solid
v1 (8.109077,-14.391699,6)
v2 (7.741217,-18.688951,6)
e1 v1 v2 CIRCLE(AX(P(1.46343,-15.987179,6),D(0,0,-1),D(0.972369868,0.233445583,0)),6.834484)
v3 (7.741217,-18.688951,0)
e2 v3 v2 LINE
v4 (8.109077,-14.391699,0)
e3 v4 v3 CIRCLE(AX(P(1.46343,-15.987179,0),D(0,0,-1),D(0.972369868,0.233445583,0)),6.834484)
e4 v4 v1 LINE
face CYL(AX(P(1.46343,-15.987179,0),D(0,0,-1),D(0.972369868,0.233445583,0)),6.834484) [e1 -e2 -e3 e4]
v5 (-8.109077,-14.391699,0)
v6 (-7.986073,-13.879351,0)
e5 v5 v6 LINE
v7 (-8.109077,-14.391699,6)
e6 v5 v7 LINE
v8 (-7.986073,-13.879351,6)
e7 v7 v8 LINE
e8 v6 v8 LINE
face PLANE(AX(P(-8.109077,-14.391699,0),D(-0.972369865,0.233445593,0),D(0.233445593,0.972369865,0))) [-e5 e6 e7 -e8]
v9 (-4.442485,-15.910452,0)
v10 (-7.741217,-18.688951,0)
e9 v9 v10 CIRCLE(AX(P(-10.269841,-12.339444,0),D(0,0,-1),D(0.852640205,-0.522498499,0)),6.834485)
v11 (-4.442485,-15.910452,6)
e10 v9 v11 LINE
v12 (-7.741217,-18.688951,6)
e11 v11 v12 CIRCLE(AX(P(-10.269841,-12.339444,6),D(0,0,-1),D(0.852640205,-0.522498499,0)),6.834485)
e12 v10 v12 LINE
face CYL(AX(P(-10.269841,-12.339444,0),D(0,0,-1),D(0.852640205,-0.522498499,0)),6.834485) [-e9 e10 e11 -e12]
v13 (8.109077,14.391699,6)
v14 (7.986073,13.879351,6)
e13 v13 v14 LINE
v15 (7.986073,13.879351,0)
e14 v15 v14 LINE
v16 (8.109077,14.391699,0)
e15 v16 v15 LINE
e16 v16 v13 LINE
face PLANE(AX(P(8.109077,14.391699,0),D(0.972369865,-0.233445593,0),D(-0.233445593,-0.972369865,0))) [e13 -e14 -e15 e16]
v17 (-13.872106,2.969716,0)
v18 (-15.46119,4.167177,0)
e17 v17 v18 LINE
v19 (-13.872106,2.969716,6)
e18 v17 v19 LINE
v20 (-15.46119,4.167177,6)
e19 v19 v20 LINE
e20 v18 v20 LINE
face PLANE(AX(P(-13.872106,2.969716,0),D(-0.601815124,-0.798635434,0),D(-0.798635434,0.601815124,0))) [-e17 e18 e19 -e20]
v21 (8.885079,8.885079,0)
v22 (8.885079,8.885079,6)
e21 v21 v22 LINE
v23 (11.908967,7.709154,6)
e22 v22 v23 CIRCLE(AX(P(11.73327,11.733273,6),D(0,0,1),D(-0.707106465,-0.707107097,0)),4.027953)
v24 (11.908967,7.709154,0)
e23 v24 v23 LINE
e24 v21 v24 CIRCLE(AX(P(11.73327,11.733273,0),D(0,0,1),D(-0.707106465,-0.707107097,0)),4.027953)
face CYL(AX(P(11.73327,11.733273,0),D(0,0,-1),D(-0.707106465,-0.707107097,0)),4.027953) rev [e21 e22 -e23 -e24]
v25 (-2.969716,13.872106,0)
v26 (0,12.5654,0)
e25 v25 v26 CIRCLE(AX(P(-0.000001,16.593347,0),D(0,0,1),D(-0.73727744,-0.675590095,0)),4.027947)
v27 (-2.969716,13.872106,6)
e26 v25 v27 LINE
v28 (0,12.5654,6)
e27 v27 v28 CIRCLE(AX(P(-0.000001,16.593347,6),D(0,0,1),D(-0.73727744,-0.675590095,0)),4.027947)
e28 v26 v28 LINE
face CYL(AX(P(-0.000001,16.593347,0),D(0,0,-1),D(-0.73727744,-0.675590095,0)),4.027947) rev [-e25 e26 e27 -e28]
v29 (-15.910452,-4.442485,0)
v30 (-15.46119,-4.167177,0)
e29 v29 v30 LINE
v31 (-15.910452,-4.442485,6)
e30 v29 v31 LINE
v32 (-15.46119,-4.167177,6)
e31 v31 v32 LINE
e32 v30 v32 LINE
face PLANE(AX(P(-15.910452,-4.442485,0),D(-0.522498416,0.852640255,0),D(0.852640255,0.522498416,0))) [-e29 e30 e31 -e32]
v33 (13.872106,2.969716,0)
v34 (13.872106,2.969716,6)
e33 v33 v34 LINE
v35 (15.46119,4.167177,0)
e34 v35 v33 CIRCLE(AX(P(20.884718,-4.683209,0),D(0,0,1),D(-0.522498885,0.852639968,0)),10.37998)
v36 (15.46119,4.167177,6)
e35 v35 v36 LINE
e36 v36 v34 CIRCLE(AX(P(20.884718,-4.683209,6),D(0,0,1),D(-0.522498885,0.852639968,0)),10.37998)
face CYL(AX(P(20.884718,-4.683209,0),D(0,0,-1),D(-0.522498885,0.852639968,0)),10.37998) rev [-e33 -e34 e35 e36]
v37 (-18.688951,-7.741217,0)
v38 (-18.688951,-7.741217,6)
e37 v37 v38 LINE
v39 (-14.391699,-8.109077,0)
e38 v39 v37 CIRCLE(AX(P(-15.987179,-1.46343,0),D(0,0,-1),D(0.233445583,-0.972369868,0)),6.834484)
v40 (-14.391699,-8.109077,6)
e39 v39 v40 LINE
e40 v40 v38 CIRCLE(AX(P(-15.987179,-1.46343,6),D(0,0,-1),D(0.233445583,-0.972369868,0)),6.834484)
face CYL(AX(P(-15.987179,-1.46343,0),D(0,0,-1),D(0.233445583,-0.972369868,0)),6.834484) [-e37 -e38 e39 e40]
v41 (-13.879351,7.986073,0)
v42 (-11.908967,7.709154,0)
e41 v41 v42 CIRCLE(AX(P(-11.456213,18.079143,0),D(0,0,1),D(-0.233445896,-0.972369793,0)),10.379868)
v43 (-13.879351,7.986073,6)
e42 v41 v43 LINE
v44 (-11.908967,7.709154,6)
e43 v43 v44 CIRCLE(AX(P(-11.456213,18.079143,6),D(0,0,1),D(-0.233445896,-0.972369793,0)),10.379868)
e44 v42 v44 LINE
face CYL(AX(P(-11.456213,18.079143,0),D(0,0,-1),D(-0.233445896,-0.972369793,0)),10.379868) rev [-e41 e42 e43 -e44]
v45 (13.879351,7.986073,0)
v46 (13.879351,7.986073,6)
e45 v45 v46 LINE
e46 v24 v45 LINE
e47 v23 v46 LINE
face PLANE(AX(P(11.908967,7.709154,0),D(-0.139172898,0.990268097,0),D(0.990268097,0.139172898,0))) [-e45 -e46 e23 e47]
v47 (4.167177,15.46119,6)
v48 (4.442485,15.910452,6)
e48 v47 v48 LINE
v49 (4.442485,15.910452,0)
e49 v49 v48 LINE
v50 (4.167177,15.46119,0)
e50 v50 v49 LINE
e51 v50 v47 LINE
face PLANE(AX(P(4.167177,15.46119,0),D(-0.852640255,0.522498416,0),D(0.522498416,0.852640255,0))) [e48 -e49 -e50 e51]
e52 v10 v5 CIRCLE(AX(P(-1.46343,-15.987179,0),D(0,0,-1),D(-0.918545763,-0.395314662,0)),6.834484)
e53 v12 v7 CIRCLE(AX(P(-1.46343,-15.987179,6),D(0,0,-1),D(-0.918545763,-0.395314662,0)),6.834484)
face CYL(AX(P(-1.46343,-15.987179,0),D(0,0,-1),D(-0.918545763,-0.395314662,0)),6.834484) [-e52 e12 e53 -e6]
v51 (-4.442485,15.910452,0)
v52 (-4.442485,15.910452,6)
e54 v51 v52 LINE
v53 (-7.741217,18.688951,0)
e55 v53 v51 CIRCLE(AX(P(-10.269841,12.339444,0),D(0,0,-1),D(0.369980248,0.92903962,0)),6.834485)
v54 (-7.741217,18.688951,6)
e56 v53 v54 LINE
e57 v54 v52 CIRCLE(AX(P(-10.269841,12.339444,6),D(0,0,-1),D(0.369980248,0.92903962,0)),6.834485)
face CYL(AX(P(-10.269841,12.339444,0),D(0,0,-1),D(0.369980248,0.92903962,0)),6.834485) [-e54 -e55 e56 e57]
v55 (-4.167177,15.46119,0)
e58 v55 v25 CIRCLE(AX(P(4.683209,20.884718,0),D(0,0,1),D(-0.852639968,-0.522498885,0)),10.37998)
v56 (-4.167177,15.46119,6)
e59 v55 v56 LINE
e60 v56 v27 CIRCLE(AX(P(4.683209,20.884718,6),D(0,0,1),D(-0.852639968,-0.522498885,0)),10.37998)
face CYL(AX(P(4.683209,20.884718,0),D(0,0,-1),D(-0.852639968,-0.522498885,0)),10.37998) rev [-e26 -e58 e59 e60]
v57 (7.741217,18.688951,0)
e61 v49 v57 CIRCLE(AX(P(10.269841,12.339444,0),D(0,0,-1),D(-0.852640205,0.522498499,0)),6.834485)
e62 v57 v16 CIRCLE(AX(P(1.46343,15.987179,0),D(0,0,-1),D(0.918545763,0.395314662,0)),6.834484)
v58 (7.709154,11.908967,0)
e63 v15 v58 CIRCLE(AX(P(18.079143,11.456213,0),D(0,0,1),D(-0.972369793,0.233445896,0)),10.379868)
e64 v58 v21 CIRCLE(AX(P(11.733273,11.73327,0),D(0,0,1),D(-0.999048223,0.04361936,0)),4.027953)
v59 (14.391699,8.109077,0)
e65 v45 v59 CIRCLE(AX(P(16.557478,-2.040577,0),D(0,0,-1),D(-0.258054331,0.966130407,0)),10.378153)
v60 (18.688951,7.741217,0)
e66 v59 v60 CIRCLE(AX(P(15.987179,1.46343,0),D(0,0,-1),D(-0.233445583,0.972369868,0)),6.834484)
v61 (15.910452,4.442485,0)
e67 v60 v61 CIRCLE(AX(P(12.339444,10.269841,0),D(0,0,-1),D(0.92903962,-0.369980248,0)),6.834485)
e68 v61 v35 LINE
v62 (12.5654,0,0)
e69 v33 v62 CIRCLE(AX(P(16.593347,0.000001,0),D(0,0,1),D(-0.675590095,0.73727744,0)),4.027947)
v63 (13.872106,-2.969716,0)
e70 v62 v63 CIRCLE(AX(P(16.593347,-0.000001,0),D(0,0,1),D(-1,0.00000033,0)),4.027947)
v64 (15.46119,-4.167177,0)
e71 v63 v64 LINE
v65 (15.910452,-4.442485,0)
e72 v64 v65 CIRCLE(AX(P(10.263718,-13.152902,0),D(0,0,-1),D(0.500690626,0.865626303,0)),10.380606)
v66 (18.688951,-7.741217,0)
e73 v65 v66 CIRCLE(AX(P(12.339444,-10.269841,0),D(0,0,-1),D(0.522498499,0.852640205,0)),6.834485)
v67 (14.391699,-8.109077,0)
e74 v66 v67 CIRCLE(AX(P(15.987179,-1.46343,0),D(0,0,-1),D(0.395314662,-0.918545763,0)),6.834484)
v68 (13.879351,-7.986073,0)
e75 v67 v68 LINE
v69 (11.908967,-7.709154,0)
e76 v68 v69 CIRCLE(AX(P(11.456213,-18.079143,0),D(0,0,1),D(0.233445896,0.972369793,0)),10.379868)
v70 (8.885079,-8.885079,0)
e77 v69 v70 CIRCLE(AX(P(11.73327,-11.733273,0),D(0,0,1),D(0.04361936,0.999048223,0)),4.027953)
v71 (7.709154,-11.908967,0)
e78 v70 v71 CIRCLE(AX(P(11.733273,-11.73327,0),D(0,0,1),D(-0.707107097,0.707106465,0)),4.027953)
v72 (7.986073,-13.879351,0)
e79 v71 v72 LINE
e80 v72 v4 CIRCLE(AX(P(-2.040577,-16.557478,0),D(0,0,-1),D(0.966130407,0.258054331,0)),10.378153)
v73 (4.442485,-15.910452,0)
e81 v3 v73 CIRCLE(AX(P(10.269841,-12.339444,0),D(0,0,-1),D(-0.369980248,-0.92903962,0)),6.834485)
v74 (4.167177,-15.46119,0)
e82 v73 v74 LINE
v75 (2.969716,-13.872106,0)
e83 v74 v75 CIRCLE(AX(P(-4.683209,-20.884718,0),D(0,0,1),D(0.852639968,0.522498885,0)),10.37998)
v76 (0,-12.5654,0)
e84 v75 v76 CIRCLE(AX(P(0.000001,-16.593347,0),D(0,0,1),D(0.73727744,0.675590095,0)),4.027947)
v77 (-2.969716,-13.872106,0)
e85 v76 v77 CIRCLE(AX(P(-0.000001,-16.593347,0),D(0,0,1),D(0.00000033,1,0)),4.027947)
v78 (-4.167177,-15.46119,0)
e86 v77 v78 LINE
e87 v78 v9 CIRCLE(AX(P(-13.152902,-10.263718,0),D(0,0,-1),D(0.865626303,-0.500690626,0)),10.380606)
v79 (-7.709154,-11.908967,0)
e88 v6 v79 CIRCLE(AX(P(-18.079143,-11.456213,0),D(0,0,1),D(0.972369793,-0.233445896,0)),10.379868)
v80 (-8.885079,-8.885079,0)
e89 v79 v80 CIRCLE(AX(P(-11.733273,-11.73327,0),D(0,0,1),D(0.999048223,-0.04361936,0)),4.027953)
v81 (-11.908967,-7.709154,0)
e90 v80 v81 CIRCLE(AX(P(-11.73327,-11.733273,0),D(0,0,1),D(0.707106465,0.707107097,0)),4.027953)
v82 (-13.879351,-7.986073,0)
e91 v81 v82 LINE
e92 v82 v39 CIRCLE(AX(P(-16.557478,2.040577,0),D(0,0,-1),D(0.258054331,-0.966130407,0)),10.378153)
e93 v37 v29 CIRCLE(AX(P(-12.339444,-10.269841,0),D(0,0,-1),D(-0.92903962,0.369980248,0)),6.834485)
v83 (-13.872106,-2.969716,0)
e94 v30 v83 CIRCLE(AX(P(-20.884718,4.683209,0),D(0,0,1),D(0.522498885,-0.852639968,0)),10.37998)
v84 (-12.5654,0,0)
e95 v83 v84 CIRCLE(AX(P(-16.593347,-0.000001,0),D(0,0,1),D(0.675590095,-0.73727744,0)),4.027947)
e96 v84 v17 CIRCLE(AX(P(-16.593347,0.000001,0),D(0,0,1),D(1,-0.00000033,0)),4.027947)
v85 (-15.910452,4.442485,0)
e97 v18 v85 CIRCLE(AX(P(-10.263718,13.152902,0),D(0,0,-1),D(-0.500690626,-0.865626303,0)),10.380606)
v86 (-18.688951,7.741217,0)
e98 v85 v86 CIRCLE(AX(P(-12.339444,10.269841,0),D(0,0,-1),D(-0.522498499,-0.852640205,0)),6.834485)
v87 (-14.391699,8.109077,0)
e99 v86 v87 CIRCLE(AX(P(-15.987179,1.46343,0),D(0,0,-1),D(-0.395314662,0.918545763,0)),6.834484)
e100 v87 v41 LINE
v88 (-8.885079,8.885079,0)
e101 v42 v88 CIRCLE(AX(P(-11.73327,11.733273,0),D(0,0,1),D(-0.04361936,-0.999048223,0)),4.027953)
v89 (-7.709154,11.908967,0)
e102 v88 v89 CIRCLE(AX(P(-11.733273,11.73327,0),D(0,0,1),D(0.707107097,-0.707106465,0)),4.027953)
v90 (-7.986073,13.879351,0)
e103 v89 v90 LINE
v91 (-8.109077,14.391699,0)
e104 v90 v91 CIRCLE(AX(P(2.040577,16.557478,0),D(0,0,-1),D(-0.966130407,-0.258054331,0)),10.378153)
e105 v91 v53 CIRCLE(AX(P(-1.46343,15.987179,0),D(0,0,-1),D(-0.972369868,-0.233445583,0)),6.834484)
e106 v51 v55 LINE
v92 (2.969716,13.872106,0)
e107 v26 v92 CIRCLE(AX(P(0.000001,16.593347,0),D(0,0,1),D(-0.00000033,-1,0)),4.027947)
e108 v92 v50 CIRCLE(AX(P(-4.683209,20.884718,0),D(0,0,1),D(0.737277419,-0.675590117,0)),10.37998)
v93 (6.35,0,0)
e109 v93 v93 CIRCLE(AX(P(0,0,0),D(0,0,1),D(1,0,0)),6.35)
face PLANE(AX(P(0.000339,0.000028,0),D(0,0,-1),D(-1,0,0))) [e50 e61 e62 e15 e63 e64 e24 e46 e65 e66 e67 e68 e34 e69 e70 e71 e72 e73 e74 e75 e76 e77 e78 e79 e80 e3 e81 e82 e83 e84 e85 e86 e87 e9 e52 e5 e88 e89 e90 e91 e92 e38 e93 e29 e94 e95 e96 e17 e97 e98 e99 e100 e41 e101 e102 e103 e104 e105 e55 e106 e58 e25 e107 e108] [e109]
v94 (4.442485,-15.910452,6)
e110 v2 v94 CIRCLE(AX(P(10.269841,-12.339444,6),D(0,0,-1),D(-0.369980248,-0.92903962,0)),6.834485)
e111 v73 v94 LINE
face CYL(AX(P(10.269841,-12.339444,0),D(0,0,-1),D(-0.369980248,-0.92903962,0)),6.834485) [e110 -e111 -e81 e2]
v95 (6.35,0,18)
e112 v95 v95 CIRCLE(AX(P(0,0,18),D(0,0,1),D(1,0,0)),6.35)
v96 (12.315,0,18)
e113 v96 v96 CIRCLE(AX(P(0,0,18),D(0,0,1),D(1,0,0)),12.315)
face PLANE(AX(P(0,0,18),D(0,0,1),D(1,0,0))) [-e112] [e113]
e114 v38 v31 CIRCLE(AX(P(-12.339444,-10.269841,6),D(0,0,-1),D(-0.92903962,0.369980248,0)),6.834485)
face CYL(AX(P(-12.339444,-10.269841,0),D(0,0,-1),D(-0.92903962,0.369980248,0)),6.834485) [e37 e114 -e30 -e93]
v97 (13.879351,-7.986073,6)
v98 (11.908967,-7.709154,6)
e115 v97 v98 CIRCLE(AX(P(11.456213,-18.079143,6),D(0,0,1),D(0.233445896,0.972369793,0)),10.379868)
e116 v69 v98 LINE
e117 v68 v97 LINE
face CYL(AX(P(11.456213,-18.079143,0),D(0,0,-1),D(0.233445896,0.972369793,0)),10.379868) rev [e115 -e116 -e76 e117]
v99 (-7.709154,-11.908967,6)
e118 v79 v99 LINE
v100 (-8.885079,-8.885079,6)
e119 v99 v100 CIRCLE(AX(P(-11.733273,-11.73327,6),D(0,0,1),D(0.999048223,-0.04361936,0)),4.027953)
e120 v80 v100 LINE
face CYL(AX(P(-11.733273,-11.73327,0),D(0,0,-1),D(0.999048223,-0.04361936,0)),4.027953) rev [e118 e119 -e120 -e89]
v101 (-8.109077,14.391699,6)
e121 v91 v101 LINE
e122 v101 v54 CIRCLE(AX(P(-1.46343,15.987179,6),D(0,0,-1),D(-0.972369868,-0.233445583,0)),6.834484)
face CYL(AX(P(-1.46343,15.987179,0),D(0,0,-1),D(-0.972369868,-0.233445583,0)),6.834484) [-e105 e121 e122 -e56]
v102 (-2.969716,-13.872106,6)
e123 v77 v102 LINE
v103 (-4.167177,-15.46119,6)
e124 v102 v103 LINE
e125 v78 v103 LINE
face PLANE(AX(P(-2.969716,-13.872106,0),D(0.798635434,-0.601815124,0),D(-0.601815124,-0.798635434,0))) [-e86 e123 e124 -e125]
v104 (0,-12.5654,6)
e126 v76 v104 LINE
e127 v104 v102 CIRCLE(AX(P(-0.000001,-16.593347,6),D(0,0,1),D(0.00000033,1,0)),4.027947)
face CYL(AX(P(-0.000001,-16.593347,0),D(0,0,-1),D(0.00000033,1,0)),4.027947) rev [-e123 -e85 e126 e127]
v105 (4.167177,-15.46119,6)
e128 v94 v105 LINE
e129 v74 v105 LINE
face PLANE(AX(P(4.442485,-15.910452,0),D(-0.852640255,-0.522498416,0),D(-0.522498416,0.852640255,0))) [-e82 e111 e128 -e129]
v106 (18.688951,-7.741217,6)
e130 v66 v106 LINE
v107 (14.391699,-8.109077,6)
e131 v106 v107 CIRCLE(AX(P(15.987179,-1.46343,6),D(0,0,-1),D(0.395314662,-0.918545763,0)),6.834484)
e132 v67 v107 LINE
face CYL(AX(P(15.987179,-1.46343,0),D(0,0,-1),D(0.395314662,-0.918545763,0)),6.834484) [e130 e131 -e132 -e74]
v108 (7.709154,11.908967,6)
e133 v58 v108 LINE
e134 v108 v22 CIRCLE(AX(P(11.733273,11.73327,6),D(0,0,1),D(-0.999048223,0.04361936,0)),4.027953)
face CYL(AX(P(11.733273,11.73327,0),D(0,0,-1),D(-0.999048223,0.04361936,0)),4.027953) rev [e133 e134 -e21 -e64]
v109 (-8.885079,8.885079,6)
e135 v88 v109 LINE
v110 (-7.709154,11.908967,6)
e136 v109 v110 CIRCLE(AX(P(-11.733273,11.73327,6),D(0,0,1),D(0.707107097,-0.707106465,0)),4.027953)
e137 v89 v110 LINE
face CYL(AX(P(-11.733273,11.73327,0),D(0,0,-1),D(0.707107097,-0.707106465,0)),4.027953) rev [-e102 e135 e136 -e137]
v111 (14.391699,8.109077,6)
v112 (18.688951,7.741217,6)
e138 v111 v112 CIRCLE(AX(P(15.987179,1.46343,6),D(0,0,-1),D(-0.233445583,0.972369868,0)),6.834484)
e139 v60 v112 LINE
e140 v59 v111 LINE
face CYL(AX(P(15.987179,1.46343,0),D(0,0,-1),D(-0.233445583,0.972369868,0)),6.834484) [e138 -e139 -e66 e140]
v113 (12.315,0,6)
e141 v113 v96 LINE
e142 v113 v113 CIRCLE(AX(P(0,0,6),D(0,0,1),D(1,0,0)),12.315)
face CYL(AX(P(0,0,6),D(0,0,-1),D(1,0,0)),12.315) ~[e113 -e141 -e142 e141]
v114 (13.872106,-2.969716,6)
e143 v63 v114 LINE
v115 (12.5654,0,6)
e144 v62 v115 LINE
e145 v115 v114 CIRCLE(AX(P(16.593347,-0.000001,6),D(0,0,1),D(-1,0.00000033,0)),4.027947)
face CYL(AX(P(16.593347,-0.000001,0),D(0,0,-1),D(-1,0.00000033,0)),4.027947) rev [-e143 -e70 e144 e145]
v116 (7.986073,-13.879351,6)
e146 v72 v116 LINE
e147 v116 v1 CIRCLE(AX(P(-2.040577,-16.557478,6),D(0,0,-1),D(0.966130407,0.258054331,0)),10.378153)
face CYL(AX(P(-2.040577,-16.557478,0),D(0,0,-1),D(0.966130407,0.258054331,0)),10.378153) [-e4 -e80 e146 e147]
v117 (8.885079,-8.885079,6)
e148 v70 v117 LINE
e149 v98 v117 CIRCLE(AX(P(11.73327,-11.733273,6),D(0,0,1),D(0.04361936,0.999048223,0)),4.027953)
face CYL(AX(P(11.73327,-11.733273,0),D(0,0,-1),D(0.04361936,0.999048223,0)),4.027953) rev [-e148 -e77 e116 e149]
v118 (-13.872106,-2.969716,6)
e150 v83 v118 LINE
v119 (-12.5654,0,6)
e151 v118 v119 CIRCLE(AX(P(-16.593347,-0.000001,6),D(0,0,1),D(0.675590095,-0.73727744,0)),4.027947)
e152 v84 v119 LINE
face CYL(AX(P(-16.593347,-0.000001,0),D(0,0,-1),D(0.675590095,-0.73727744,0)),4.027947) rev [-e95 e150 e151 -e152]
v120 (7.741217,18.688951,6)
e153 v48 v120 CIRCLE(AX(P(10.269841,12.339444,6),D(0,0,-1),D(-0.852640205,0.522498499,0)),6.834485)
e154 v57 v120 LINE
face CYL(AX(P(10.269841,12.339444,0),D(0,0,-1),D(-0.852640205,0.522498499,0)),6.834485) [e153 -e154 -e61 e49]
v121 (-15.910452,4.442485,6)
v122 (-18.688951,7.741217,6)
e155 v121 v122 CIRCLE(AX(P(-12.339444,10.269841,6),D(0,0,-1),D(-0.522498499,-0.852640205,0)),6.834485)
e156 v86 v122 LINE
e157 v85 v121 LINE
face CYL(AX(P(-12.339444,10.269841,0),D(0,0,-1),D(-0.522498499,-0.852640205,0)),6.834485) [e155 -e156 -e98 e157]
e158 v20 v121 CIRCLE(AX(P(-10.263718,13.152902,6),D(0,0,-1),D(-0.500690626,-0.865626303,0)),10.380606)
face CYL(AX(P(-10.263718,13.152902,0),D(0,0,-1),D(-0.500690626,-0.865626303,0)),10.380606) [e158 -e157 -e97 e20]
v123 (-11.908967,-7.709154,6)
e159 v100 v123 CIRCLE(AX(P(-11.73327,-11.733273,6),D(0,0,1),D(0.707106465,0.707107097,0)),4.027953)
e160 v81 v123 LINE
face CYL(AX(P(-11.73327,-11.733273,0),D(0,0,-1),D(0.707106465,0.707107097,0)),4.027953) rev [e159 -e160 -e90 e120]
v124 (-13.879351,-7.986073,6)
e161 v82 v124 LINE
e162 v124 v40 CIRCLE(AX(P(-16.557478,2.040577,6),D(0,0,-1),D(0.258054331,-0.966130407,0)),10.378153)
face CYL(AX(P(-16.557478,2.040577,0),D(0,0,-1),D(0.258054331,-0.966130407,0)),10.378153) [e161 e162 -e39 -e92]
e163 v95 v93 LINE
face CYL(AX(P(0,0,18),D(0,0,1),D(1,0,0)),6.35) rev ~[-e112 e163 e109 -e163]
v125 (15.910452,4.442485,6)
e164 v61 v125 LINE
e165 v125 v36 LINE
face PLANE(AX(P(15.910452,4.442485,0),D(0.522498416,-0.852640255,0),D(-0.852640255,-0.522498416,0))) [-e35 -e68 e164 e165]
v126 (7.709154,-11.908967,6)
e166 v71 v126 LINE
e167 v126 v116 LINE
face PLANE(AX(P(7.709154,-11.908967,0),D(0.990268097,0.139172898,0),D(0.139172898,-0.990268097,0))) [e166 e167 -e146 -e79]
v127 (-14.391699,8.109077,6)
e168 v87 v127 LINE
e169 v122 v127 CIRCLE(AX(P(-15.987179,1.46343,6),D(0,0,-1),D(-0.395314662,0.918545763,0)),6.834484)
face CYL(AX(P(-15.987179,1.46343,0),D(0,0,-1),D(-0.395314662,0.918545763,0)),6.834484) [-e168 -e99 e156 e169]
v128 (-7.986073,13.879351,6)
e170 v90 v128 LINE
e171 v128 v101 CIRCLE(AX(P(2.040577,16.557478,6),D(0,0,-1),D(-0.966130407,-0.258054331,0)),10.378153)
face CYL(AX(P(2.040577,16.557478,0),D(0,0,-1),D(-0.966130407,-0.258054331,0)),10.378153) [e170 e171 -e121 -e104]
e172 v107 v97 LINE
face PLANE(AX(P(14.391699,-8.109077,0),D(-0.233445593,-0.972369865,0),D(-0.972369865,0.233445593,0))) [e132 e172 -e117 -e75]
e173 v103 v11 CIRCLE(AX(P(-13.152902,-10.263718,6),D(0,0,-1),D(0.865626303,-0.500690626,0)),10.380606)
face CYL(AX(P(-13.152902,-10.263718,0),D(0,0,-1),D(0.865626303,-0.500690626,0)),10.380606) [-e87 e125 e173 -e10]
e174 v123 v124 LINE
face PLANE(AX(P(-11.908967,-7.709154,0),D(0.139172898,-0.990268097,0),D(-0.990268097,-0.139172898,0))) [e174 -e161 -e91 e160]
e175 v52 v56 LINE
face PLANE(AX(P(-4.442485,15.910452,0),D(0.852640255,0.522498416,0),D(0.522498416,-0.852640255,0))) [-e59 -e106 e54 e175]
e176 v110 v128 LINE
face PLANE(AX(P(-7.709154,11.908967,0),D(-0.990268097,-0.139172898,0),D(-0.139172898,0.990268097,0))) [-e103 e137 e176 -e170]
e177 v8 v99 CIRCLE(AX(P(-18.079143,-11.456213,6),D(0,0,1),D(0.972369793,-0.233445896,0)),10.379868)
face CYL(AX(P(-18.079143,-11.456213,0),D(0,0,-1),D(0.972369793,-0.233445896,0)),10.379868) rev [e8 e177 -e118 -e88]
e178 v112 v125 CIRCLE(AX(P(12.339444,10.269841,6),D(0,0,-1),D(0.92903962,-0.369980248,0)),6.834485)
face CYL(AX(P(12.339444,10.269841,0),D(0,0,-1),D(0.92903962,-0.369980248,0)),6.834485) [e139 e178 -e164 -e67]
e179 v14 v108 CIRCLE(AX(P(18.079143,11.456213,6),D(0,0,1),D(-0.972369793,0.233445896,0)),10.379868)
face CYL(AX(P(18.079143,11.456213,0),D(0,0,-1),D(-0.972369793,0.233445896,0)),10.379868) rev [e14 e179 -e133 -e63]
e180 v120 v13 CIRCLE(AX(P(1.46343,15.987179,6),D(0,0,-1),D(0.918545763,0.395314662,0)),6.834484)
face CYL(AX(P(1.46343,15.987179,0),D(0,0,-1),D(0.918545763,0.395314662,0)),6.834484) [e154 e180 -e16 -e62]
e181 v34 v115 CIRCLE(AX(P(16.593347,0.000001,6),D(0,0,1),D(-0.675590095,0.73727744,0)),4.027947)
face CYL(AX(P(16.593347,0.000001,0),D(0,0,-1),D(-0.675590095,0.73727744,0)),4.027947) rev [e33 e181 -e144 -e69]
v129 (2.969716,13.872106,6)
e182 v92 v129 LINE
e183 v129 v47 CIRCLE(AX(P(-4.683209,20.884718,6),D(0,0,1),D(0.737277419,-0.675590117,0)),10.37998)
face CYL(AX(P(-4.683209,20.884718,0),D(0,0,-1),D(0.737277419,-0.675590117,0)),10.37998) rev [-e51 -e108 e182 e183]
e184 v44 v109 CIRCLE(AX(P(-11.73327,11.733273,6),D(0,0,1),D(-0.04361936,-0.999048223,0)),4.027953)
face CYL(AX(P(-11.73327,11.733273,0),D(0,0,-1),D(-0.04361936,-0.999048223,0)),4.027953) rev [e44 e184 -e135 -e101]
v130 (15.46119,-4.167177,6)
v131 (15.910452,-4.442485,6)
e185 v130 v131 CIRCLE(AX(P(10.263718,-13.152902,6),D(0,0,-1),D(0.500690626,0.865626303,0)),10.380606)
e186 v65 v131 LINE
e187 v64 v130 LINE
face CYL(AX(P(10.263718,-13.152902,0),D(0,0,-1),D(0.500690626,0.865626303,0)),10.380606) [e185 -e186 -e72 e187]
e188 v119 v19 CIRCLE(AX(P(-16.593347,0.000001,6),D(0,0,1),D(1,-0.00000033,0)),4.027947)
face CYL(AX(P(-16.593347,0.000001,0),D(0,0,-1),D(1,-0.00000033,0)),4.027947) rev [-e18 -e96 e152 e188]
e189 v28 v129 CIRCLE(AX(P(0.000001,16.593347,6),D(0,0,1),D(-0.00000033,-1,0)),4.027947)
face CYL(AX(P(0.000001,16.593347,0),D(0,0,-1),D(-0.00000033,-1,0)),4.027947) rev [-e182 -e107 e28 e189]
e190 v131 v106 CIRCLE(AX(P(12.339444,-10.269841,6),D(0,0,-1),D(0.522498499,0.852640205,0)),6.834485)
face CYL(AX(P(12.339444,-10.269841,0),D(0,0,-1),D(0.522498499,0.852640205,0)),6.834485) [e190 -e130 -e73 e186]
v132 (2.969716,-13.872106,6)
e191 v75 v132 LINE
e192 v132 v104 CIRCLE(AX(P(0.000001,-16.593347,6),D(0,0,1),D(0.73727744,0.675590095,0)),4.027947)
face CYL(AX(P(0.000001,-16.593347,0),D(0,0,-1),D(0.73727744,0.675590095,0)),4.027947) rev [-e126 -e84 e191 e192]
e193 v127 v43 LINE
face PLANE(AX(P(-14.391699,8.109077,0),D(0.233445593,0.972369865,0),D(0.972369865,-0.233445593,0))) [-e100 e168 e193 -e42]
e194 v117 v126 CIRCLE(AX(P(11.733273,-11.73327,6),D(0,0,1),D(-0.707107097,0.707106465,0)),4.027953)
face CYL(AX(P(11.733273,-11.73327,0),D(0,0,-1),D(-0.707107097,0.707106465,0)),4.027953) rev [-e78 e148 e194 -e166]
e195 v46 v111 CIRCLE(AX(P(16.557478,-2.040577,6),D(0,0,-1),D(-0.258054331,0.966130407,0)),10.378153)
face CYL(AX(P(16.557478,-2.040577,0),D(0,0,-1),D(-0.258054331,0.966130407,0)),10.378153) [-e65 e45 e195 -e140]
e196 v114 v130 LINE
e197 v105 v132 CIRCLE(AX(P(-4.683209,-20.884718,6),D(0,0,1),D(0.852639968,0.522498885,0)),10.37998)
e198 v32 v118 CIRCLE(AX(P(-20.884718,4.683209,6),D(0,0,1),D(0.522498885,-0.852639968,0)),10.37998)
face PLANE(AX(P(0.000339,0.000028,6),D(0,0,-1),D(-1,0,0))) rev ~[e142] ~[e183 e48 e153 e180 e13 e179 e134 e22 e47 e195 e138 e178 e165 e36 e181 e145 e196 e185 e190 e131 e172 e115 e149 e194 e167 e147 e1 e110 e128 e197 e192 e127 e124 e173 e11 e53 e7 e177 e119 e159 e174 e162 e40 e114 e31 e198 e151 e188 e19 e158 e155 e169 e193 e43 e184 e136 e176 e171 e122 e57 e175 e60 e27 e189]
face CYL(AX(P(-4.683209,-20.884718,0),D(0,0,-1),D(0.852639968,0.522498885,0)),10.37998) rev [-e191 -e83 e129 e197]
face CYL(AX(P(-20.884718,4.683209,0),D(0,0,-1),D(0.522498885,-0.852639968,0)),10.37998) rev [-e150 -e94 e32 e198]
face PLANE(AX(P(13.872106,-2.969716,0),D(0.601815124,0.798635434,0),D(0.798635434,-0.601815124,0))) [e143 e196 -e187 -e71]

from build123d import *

# Parameters (mm, degrees)
PAD_DEPTH    = 6
SKETCH_R     = 12.315
PAD001_DEPTH = 12
SKETCH001_R  = 6.35
POCKET_DEPTH = 18


with BuildPart() as part:
    # Sprocket → Pad (new body)
    with BuildSketch(Plane.XY):
        with BuildLine():
            ThreePointArc((-7.741217, 18.688951), (-5.866931, 17.566734), (-4.442485, 15.910452))
            Line((-4.442485, 15.910452), (-4.167177, 15.46119))
            ThreePointArc((-4.167177, 15.46119), (-3.606611, 14.637889), (-2.969716, 13.872106))
            ThreePointArc((-2.969716, 13.872106), (-1.622244, 12.906521), (0, 12.5654))
            ThreePointArc((0, 12.5654), (1.622244, 12.906521), (2.969716, 13.872106))
            ThreePointArc((2.969716, 13.872106), (3.606611, 14.637889), (4.167177, 15.46119))
            Line((4.167177, 15.46119), (4.442485, 15.910452))
            ThreePointArc((4.442485, 15.910452), (5.866931, 17.566734), (7.741217, 18.688951))
            ThreePointArc((7.741217, 18.688951), (8.27301, 16.570104), (8.109077, 14.391699))
            Line((8.109077, 14.391699), (7.986073, 13.879351))
            ThreePointArc((7.986073, 13.879351), (7.800291, 12.90081), (7.709154, 11.908967))
            ThreePointArc((7.709154, 11.908967), (7.979189, 10.273388), (8.885079, 8.885079))
            ThreePointArc((8.885079, 8.885079), (10.273388, 7.979189), (11.908967, 7.709154))
            Line((11.908967, 7.709154), (13.879351, 7.986073))
            ThreePointArc((13.879351, 7.986073), (14.134744, 8.050827), (14.391699, 8.109077))
            ThreePointArc((14.391699, 8.109077), (16.570104, 8.27301), (18.688951, 7.741217))
            ThreePointArc((18.688951, 7.741217), (17.566734, 5.866931), (15.910452, 4.442485))
            Line((15.910452, 4.442485), (15.46119, 4.167177))
            ThreePointArc((15.46119, 4.167177), (14.637889, 3.606611), (13.872106, 2.969716))
            ThreePointArc((13.872106, 2.969716), (12.906521, 1.622244), (12.5654, 0))
            ThreePointArc((12.5654, 0), (12.906521, -1.622244), (13.872106, -2.969716))
            Line((13.872106, -2.969716), (15.46119, -4.167177))
            ThreePointArc((15.46119, -4.167177), (15.687568, -4.30198), (15.910452, -4.442485))
            ThreePointArc((15.910452, -4.442485), (17.566734, -5.866931), (18.688951, -7.741217))
            ThreePointArc((18.688951, -7.741217), (16.570104, -8.27301), (14.391699, -8.109077))
            Line((14.391699, -8.109077), (13.879351, -7.986073))
            ThreePointArc((13.879351, -7.986073), (12.90081, -7.800291), (11.908967, -7.709154))
            ThreePointArc((11.908967, -7.709154), (10.273388, -7.979189), (8.885079, -8.885079))
            ThreePointArc((8.885079, -8.885079), (7.979189, -10.273388), (7.709154, -11.908967))
            Line((7.709154, -11.908967), (7.986073, -13.879351))
            ThreePointArc((7.986073, -13.879351), (8.050827, -14.134744), (8.109077, -14.391699))
            ThreePointArc((8.109077, -14.391699), (8.27301, -16.570104), (7.741217, -18.688951))
            ThreePointArc((7.741217, -18.688951), (5.866931, -17.566734), (4.442485, -15.910452))
            Line((4.442485, -15.910452), (4.167177, -15.46119))
            ThreePointArc((4.167177, -15.46119), (3.606611, -14.637889), (2.969716, -13.872106))
            ThreePointArc((2.969716, -13.872106), (1.622244, -12.906521), (0, -12.5654))
            ThreePointArc((0, -12.5654), (-1.622244, -12.906521), (-2.969716, -13.872106))
            Line((-2.969716, -13.872106), (-4.167177, -15.46119))
            ThreePointArc((-4.167177, -15.46119), (-4.30198, -15.687568), (-4.442485, -15.910452))
            ThreePointArc((-4.442485, -15.910452), (-5.866931, -17.566734), (-7.741217, -18.688951))
            ThreePointArc((-7.741217, -18.688951), (-8.27301, -16.570104), (-8.109077, -14.391699))
            Line((-8.109077, -14.391699), (-7.986073, -13.879351))
            ThreePointArc((-7.986073, -13.879351), (-7.800291, -12.90081), (-7.709154, -11.908967))
            ThreePointArc((-7.709154, -11.908967), (-7.979189, -10.273388), (-8.885079, -8.885079))
            ThreePointArc((-8.885079, -8.885079), (-10.273388, -7.979189), (-11.908967, -7.709154))
            Line((-11.908967, -7.709154), (-13.879351, -7.986073))
            ThreePointArc((-13.879351, -7.986073), (-14.134744, -8.050827), (-14.391699, -8.109077))
            ThreePointArc((-14.391699, -8.109077), (-16.570104, -8.27301), (-18.688951, -7.741217))
            ThreePointArc((-18.688951, -7.741217), (-17.566734, -5.866931), (-15.910452, -4.442485))
            Line((-15.910452, -4.442485), (-15.46119, -4.167177))
            ThreePointArc((-15.46119, -4.167177), (-14.637889, -3.606611), (-13.872106, -2.969716))
            ThreePointArc((-13.872106, -2.969716), (-12.906521, -1.622244), (-12.5654, 0))
            ThreePointArc((-12.5654, 0), (-12.906521, 1.622244), (-13.872106, 2.969716))
            Line((-13.872106, 2.969716), (-15.46119, 4.167177))
            ThreePointArc((-15.46119, 4.167177), (-15.687568, 4.30198), (-15.910452, 4.442485))
            ThreePointArc((-15.910452, 4.442485), (-17.566734, 5.866931), (-18.688951, 7.741217))
            ThreePointArc((-18.688951, 7.741217), (-16.570104, 8.27301), (-14.391699, 8.109077))
            Line((-14.391699, 8.109077), (-13.879351, 7.986073))
            ThreePointArc((-13.879351, 7.986073), (-12.90081, 7.800291), (-11.908967, 7.709154))
            ThreePointArc((-11.908967, 7.709154), (-10.273388, 7.979189), (-8.885079, 8.885079))
            ThreePointArc((-8.885079, 8.885079), (-7.979189, 10.273388), (-7.709154, 11.908967))
            Line((-7.709154, 11.908967), (-7.986073, 13.879351))
            ThreePointArc((-7.986073, 13.879351), (-8.050827, 14.134744), (-8.109077, 14.391699))
            ThreePointArc((-8.109077, 14.391699), (-8.27301, 16.570104), (-7.741217, 18.688951))
        make_face()
    extrude(amount=PAD_DEPTH)

    # Sketch (on Face50 of Pad) → Pad001 (join)
    with BuildSketch(Plane.XY.offset(6)):
        Circle(SKETCH_R)
    extrude(amount=PAD001_DEPTH)

    # Sketch001 (on Face60 of Pad001) → Pocket (cut)
    with BuildSketch(Plane.XY.offset(18)):
        Circle(SKETCH001_R)
    extrude(amount=-POCKET_DEPTH, mode=Mode.SUBTRACT)


solid = part.part
